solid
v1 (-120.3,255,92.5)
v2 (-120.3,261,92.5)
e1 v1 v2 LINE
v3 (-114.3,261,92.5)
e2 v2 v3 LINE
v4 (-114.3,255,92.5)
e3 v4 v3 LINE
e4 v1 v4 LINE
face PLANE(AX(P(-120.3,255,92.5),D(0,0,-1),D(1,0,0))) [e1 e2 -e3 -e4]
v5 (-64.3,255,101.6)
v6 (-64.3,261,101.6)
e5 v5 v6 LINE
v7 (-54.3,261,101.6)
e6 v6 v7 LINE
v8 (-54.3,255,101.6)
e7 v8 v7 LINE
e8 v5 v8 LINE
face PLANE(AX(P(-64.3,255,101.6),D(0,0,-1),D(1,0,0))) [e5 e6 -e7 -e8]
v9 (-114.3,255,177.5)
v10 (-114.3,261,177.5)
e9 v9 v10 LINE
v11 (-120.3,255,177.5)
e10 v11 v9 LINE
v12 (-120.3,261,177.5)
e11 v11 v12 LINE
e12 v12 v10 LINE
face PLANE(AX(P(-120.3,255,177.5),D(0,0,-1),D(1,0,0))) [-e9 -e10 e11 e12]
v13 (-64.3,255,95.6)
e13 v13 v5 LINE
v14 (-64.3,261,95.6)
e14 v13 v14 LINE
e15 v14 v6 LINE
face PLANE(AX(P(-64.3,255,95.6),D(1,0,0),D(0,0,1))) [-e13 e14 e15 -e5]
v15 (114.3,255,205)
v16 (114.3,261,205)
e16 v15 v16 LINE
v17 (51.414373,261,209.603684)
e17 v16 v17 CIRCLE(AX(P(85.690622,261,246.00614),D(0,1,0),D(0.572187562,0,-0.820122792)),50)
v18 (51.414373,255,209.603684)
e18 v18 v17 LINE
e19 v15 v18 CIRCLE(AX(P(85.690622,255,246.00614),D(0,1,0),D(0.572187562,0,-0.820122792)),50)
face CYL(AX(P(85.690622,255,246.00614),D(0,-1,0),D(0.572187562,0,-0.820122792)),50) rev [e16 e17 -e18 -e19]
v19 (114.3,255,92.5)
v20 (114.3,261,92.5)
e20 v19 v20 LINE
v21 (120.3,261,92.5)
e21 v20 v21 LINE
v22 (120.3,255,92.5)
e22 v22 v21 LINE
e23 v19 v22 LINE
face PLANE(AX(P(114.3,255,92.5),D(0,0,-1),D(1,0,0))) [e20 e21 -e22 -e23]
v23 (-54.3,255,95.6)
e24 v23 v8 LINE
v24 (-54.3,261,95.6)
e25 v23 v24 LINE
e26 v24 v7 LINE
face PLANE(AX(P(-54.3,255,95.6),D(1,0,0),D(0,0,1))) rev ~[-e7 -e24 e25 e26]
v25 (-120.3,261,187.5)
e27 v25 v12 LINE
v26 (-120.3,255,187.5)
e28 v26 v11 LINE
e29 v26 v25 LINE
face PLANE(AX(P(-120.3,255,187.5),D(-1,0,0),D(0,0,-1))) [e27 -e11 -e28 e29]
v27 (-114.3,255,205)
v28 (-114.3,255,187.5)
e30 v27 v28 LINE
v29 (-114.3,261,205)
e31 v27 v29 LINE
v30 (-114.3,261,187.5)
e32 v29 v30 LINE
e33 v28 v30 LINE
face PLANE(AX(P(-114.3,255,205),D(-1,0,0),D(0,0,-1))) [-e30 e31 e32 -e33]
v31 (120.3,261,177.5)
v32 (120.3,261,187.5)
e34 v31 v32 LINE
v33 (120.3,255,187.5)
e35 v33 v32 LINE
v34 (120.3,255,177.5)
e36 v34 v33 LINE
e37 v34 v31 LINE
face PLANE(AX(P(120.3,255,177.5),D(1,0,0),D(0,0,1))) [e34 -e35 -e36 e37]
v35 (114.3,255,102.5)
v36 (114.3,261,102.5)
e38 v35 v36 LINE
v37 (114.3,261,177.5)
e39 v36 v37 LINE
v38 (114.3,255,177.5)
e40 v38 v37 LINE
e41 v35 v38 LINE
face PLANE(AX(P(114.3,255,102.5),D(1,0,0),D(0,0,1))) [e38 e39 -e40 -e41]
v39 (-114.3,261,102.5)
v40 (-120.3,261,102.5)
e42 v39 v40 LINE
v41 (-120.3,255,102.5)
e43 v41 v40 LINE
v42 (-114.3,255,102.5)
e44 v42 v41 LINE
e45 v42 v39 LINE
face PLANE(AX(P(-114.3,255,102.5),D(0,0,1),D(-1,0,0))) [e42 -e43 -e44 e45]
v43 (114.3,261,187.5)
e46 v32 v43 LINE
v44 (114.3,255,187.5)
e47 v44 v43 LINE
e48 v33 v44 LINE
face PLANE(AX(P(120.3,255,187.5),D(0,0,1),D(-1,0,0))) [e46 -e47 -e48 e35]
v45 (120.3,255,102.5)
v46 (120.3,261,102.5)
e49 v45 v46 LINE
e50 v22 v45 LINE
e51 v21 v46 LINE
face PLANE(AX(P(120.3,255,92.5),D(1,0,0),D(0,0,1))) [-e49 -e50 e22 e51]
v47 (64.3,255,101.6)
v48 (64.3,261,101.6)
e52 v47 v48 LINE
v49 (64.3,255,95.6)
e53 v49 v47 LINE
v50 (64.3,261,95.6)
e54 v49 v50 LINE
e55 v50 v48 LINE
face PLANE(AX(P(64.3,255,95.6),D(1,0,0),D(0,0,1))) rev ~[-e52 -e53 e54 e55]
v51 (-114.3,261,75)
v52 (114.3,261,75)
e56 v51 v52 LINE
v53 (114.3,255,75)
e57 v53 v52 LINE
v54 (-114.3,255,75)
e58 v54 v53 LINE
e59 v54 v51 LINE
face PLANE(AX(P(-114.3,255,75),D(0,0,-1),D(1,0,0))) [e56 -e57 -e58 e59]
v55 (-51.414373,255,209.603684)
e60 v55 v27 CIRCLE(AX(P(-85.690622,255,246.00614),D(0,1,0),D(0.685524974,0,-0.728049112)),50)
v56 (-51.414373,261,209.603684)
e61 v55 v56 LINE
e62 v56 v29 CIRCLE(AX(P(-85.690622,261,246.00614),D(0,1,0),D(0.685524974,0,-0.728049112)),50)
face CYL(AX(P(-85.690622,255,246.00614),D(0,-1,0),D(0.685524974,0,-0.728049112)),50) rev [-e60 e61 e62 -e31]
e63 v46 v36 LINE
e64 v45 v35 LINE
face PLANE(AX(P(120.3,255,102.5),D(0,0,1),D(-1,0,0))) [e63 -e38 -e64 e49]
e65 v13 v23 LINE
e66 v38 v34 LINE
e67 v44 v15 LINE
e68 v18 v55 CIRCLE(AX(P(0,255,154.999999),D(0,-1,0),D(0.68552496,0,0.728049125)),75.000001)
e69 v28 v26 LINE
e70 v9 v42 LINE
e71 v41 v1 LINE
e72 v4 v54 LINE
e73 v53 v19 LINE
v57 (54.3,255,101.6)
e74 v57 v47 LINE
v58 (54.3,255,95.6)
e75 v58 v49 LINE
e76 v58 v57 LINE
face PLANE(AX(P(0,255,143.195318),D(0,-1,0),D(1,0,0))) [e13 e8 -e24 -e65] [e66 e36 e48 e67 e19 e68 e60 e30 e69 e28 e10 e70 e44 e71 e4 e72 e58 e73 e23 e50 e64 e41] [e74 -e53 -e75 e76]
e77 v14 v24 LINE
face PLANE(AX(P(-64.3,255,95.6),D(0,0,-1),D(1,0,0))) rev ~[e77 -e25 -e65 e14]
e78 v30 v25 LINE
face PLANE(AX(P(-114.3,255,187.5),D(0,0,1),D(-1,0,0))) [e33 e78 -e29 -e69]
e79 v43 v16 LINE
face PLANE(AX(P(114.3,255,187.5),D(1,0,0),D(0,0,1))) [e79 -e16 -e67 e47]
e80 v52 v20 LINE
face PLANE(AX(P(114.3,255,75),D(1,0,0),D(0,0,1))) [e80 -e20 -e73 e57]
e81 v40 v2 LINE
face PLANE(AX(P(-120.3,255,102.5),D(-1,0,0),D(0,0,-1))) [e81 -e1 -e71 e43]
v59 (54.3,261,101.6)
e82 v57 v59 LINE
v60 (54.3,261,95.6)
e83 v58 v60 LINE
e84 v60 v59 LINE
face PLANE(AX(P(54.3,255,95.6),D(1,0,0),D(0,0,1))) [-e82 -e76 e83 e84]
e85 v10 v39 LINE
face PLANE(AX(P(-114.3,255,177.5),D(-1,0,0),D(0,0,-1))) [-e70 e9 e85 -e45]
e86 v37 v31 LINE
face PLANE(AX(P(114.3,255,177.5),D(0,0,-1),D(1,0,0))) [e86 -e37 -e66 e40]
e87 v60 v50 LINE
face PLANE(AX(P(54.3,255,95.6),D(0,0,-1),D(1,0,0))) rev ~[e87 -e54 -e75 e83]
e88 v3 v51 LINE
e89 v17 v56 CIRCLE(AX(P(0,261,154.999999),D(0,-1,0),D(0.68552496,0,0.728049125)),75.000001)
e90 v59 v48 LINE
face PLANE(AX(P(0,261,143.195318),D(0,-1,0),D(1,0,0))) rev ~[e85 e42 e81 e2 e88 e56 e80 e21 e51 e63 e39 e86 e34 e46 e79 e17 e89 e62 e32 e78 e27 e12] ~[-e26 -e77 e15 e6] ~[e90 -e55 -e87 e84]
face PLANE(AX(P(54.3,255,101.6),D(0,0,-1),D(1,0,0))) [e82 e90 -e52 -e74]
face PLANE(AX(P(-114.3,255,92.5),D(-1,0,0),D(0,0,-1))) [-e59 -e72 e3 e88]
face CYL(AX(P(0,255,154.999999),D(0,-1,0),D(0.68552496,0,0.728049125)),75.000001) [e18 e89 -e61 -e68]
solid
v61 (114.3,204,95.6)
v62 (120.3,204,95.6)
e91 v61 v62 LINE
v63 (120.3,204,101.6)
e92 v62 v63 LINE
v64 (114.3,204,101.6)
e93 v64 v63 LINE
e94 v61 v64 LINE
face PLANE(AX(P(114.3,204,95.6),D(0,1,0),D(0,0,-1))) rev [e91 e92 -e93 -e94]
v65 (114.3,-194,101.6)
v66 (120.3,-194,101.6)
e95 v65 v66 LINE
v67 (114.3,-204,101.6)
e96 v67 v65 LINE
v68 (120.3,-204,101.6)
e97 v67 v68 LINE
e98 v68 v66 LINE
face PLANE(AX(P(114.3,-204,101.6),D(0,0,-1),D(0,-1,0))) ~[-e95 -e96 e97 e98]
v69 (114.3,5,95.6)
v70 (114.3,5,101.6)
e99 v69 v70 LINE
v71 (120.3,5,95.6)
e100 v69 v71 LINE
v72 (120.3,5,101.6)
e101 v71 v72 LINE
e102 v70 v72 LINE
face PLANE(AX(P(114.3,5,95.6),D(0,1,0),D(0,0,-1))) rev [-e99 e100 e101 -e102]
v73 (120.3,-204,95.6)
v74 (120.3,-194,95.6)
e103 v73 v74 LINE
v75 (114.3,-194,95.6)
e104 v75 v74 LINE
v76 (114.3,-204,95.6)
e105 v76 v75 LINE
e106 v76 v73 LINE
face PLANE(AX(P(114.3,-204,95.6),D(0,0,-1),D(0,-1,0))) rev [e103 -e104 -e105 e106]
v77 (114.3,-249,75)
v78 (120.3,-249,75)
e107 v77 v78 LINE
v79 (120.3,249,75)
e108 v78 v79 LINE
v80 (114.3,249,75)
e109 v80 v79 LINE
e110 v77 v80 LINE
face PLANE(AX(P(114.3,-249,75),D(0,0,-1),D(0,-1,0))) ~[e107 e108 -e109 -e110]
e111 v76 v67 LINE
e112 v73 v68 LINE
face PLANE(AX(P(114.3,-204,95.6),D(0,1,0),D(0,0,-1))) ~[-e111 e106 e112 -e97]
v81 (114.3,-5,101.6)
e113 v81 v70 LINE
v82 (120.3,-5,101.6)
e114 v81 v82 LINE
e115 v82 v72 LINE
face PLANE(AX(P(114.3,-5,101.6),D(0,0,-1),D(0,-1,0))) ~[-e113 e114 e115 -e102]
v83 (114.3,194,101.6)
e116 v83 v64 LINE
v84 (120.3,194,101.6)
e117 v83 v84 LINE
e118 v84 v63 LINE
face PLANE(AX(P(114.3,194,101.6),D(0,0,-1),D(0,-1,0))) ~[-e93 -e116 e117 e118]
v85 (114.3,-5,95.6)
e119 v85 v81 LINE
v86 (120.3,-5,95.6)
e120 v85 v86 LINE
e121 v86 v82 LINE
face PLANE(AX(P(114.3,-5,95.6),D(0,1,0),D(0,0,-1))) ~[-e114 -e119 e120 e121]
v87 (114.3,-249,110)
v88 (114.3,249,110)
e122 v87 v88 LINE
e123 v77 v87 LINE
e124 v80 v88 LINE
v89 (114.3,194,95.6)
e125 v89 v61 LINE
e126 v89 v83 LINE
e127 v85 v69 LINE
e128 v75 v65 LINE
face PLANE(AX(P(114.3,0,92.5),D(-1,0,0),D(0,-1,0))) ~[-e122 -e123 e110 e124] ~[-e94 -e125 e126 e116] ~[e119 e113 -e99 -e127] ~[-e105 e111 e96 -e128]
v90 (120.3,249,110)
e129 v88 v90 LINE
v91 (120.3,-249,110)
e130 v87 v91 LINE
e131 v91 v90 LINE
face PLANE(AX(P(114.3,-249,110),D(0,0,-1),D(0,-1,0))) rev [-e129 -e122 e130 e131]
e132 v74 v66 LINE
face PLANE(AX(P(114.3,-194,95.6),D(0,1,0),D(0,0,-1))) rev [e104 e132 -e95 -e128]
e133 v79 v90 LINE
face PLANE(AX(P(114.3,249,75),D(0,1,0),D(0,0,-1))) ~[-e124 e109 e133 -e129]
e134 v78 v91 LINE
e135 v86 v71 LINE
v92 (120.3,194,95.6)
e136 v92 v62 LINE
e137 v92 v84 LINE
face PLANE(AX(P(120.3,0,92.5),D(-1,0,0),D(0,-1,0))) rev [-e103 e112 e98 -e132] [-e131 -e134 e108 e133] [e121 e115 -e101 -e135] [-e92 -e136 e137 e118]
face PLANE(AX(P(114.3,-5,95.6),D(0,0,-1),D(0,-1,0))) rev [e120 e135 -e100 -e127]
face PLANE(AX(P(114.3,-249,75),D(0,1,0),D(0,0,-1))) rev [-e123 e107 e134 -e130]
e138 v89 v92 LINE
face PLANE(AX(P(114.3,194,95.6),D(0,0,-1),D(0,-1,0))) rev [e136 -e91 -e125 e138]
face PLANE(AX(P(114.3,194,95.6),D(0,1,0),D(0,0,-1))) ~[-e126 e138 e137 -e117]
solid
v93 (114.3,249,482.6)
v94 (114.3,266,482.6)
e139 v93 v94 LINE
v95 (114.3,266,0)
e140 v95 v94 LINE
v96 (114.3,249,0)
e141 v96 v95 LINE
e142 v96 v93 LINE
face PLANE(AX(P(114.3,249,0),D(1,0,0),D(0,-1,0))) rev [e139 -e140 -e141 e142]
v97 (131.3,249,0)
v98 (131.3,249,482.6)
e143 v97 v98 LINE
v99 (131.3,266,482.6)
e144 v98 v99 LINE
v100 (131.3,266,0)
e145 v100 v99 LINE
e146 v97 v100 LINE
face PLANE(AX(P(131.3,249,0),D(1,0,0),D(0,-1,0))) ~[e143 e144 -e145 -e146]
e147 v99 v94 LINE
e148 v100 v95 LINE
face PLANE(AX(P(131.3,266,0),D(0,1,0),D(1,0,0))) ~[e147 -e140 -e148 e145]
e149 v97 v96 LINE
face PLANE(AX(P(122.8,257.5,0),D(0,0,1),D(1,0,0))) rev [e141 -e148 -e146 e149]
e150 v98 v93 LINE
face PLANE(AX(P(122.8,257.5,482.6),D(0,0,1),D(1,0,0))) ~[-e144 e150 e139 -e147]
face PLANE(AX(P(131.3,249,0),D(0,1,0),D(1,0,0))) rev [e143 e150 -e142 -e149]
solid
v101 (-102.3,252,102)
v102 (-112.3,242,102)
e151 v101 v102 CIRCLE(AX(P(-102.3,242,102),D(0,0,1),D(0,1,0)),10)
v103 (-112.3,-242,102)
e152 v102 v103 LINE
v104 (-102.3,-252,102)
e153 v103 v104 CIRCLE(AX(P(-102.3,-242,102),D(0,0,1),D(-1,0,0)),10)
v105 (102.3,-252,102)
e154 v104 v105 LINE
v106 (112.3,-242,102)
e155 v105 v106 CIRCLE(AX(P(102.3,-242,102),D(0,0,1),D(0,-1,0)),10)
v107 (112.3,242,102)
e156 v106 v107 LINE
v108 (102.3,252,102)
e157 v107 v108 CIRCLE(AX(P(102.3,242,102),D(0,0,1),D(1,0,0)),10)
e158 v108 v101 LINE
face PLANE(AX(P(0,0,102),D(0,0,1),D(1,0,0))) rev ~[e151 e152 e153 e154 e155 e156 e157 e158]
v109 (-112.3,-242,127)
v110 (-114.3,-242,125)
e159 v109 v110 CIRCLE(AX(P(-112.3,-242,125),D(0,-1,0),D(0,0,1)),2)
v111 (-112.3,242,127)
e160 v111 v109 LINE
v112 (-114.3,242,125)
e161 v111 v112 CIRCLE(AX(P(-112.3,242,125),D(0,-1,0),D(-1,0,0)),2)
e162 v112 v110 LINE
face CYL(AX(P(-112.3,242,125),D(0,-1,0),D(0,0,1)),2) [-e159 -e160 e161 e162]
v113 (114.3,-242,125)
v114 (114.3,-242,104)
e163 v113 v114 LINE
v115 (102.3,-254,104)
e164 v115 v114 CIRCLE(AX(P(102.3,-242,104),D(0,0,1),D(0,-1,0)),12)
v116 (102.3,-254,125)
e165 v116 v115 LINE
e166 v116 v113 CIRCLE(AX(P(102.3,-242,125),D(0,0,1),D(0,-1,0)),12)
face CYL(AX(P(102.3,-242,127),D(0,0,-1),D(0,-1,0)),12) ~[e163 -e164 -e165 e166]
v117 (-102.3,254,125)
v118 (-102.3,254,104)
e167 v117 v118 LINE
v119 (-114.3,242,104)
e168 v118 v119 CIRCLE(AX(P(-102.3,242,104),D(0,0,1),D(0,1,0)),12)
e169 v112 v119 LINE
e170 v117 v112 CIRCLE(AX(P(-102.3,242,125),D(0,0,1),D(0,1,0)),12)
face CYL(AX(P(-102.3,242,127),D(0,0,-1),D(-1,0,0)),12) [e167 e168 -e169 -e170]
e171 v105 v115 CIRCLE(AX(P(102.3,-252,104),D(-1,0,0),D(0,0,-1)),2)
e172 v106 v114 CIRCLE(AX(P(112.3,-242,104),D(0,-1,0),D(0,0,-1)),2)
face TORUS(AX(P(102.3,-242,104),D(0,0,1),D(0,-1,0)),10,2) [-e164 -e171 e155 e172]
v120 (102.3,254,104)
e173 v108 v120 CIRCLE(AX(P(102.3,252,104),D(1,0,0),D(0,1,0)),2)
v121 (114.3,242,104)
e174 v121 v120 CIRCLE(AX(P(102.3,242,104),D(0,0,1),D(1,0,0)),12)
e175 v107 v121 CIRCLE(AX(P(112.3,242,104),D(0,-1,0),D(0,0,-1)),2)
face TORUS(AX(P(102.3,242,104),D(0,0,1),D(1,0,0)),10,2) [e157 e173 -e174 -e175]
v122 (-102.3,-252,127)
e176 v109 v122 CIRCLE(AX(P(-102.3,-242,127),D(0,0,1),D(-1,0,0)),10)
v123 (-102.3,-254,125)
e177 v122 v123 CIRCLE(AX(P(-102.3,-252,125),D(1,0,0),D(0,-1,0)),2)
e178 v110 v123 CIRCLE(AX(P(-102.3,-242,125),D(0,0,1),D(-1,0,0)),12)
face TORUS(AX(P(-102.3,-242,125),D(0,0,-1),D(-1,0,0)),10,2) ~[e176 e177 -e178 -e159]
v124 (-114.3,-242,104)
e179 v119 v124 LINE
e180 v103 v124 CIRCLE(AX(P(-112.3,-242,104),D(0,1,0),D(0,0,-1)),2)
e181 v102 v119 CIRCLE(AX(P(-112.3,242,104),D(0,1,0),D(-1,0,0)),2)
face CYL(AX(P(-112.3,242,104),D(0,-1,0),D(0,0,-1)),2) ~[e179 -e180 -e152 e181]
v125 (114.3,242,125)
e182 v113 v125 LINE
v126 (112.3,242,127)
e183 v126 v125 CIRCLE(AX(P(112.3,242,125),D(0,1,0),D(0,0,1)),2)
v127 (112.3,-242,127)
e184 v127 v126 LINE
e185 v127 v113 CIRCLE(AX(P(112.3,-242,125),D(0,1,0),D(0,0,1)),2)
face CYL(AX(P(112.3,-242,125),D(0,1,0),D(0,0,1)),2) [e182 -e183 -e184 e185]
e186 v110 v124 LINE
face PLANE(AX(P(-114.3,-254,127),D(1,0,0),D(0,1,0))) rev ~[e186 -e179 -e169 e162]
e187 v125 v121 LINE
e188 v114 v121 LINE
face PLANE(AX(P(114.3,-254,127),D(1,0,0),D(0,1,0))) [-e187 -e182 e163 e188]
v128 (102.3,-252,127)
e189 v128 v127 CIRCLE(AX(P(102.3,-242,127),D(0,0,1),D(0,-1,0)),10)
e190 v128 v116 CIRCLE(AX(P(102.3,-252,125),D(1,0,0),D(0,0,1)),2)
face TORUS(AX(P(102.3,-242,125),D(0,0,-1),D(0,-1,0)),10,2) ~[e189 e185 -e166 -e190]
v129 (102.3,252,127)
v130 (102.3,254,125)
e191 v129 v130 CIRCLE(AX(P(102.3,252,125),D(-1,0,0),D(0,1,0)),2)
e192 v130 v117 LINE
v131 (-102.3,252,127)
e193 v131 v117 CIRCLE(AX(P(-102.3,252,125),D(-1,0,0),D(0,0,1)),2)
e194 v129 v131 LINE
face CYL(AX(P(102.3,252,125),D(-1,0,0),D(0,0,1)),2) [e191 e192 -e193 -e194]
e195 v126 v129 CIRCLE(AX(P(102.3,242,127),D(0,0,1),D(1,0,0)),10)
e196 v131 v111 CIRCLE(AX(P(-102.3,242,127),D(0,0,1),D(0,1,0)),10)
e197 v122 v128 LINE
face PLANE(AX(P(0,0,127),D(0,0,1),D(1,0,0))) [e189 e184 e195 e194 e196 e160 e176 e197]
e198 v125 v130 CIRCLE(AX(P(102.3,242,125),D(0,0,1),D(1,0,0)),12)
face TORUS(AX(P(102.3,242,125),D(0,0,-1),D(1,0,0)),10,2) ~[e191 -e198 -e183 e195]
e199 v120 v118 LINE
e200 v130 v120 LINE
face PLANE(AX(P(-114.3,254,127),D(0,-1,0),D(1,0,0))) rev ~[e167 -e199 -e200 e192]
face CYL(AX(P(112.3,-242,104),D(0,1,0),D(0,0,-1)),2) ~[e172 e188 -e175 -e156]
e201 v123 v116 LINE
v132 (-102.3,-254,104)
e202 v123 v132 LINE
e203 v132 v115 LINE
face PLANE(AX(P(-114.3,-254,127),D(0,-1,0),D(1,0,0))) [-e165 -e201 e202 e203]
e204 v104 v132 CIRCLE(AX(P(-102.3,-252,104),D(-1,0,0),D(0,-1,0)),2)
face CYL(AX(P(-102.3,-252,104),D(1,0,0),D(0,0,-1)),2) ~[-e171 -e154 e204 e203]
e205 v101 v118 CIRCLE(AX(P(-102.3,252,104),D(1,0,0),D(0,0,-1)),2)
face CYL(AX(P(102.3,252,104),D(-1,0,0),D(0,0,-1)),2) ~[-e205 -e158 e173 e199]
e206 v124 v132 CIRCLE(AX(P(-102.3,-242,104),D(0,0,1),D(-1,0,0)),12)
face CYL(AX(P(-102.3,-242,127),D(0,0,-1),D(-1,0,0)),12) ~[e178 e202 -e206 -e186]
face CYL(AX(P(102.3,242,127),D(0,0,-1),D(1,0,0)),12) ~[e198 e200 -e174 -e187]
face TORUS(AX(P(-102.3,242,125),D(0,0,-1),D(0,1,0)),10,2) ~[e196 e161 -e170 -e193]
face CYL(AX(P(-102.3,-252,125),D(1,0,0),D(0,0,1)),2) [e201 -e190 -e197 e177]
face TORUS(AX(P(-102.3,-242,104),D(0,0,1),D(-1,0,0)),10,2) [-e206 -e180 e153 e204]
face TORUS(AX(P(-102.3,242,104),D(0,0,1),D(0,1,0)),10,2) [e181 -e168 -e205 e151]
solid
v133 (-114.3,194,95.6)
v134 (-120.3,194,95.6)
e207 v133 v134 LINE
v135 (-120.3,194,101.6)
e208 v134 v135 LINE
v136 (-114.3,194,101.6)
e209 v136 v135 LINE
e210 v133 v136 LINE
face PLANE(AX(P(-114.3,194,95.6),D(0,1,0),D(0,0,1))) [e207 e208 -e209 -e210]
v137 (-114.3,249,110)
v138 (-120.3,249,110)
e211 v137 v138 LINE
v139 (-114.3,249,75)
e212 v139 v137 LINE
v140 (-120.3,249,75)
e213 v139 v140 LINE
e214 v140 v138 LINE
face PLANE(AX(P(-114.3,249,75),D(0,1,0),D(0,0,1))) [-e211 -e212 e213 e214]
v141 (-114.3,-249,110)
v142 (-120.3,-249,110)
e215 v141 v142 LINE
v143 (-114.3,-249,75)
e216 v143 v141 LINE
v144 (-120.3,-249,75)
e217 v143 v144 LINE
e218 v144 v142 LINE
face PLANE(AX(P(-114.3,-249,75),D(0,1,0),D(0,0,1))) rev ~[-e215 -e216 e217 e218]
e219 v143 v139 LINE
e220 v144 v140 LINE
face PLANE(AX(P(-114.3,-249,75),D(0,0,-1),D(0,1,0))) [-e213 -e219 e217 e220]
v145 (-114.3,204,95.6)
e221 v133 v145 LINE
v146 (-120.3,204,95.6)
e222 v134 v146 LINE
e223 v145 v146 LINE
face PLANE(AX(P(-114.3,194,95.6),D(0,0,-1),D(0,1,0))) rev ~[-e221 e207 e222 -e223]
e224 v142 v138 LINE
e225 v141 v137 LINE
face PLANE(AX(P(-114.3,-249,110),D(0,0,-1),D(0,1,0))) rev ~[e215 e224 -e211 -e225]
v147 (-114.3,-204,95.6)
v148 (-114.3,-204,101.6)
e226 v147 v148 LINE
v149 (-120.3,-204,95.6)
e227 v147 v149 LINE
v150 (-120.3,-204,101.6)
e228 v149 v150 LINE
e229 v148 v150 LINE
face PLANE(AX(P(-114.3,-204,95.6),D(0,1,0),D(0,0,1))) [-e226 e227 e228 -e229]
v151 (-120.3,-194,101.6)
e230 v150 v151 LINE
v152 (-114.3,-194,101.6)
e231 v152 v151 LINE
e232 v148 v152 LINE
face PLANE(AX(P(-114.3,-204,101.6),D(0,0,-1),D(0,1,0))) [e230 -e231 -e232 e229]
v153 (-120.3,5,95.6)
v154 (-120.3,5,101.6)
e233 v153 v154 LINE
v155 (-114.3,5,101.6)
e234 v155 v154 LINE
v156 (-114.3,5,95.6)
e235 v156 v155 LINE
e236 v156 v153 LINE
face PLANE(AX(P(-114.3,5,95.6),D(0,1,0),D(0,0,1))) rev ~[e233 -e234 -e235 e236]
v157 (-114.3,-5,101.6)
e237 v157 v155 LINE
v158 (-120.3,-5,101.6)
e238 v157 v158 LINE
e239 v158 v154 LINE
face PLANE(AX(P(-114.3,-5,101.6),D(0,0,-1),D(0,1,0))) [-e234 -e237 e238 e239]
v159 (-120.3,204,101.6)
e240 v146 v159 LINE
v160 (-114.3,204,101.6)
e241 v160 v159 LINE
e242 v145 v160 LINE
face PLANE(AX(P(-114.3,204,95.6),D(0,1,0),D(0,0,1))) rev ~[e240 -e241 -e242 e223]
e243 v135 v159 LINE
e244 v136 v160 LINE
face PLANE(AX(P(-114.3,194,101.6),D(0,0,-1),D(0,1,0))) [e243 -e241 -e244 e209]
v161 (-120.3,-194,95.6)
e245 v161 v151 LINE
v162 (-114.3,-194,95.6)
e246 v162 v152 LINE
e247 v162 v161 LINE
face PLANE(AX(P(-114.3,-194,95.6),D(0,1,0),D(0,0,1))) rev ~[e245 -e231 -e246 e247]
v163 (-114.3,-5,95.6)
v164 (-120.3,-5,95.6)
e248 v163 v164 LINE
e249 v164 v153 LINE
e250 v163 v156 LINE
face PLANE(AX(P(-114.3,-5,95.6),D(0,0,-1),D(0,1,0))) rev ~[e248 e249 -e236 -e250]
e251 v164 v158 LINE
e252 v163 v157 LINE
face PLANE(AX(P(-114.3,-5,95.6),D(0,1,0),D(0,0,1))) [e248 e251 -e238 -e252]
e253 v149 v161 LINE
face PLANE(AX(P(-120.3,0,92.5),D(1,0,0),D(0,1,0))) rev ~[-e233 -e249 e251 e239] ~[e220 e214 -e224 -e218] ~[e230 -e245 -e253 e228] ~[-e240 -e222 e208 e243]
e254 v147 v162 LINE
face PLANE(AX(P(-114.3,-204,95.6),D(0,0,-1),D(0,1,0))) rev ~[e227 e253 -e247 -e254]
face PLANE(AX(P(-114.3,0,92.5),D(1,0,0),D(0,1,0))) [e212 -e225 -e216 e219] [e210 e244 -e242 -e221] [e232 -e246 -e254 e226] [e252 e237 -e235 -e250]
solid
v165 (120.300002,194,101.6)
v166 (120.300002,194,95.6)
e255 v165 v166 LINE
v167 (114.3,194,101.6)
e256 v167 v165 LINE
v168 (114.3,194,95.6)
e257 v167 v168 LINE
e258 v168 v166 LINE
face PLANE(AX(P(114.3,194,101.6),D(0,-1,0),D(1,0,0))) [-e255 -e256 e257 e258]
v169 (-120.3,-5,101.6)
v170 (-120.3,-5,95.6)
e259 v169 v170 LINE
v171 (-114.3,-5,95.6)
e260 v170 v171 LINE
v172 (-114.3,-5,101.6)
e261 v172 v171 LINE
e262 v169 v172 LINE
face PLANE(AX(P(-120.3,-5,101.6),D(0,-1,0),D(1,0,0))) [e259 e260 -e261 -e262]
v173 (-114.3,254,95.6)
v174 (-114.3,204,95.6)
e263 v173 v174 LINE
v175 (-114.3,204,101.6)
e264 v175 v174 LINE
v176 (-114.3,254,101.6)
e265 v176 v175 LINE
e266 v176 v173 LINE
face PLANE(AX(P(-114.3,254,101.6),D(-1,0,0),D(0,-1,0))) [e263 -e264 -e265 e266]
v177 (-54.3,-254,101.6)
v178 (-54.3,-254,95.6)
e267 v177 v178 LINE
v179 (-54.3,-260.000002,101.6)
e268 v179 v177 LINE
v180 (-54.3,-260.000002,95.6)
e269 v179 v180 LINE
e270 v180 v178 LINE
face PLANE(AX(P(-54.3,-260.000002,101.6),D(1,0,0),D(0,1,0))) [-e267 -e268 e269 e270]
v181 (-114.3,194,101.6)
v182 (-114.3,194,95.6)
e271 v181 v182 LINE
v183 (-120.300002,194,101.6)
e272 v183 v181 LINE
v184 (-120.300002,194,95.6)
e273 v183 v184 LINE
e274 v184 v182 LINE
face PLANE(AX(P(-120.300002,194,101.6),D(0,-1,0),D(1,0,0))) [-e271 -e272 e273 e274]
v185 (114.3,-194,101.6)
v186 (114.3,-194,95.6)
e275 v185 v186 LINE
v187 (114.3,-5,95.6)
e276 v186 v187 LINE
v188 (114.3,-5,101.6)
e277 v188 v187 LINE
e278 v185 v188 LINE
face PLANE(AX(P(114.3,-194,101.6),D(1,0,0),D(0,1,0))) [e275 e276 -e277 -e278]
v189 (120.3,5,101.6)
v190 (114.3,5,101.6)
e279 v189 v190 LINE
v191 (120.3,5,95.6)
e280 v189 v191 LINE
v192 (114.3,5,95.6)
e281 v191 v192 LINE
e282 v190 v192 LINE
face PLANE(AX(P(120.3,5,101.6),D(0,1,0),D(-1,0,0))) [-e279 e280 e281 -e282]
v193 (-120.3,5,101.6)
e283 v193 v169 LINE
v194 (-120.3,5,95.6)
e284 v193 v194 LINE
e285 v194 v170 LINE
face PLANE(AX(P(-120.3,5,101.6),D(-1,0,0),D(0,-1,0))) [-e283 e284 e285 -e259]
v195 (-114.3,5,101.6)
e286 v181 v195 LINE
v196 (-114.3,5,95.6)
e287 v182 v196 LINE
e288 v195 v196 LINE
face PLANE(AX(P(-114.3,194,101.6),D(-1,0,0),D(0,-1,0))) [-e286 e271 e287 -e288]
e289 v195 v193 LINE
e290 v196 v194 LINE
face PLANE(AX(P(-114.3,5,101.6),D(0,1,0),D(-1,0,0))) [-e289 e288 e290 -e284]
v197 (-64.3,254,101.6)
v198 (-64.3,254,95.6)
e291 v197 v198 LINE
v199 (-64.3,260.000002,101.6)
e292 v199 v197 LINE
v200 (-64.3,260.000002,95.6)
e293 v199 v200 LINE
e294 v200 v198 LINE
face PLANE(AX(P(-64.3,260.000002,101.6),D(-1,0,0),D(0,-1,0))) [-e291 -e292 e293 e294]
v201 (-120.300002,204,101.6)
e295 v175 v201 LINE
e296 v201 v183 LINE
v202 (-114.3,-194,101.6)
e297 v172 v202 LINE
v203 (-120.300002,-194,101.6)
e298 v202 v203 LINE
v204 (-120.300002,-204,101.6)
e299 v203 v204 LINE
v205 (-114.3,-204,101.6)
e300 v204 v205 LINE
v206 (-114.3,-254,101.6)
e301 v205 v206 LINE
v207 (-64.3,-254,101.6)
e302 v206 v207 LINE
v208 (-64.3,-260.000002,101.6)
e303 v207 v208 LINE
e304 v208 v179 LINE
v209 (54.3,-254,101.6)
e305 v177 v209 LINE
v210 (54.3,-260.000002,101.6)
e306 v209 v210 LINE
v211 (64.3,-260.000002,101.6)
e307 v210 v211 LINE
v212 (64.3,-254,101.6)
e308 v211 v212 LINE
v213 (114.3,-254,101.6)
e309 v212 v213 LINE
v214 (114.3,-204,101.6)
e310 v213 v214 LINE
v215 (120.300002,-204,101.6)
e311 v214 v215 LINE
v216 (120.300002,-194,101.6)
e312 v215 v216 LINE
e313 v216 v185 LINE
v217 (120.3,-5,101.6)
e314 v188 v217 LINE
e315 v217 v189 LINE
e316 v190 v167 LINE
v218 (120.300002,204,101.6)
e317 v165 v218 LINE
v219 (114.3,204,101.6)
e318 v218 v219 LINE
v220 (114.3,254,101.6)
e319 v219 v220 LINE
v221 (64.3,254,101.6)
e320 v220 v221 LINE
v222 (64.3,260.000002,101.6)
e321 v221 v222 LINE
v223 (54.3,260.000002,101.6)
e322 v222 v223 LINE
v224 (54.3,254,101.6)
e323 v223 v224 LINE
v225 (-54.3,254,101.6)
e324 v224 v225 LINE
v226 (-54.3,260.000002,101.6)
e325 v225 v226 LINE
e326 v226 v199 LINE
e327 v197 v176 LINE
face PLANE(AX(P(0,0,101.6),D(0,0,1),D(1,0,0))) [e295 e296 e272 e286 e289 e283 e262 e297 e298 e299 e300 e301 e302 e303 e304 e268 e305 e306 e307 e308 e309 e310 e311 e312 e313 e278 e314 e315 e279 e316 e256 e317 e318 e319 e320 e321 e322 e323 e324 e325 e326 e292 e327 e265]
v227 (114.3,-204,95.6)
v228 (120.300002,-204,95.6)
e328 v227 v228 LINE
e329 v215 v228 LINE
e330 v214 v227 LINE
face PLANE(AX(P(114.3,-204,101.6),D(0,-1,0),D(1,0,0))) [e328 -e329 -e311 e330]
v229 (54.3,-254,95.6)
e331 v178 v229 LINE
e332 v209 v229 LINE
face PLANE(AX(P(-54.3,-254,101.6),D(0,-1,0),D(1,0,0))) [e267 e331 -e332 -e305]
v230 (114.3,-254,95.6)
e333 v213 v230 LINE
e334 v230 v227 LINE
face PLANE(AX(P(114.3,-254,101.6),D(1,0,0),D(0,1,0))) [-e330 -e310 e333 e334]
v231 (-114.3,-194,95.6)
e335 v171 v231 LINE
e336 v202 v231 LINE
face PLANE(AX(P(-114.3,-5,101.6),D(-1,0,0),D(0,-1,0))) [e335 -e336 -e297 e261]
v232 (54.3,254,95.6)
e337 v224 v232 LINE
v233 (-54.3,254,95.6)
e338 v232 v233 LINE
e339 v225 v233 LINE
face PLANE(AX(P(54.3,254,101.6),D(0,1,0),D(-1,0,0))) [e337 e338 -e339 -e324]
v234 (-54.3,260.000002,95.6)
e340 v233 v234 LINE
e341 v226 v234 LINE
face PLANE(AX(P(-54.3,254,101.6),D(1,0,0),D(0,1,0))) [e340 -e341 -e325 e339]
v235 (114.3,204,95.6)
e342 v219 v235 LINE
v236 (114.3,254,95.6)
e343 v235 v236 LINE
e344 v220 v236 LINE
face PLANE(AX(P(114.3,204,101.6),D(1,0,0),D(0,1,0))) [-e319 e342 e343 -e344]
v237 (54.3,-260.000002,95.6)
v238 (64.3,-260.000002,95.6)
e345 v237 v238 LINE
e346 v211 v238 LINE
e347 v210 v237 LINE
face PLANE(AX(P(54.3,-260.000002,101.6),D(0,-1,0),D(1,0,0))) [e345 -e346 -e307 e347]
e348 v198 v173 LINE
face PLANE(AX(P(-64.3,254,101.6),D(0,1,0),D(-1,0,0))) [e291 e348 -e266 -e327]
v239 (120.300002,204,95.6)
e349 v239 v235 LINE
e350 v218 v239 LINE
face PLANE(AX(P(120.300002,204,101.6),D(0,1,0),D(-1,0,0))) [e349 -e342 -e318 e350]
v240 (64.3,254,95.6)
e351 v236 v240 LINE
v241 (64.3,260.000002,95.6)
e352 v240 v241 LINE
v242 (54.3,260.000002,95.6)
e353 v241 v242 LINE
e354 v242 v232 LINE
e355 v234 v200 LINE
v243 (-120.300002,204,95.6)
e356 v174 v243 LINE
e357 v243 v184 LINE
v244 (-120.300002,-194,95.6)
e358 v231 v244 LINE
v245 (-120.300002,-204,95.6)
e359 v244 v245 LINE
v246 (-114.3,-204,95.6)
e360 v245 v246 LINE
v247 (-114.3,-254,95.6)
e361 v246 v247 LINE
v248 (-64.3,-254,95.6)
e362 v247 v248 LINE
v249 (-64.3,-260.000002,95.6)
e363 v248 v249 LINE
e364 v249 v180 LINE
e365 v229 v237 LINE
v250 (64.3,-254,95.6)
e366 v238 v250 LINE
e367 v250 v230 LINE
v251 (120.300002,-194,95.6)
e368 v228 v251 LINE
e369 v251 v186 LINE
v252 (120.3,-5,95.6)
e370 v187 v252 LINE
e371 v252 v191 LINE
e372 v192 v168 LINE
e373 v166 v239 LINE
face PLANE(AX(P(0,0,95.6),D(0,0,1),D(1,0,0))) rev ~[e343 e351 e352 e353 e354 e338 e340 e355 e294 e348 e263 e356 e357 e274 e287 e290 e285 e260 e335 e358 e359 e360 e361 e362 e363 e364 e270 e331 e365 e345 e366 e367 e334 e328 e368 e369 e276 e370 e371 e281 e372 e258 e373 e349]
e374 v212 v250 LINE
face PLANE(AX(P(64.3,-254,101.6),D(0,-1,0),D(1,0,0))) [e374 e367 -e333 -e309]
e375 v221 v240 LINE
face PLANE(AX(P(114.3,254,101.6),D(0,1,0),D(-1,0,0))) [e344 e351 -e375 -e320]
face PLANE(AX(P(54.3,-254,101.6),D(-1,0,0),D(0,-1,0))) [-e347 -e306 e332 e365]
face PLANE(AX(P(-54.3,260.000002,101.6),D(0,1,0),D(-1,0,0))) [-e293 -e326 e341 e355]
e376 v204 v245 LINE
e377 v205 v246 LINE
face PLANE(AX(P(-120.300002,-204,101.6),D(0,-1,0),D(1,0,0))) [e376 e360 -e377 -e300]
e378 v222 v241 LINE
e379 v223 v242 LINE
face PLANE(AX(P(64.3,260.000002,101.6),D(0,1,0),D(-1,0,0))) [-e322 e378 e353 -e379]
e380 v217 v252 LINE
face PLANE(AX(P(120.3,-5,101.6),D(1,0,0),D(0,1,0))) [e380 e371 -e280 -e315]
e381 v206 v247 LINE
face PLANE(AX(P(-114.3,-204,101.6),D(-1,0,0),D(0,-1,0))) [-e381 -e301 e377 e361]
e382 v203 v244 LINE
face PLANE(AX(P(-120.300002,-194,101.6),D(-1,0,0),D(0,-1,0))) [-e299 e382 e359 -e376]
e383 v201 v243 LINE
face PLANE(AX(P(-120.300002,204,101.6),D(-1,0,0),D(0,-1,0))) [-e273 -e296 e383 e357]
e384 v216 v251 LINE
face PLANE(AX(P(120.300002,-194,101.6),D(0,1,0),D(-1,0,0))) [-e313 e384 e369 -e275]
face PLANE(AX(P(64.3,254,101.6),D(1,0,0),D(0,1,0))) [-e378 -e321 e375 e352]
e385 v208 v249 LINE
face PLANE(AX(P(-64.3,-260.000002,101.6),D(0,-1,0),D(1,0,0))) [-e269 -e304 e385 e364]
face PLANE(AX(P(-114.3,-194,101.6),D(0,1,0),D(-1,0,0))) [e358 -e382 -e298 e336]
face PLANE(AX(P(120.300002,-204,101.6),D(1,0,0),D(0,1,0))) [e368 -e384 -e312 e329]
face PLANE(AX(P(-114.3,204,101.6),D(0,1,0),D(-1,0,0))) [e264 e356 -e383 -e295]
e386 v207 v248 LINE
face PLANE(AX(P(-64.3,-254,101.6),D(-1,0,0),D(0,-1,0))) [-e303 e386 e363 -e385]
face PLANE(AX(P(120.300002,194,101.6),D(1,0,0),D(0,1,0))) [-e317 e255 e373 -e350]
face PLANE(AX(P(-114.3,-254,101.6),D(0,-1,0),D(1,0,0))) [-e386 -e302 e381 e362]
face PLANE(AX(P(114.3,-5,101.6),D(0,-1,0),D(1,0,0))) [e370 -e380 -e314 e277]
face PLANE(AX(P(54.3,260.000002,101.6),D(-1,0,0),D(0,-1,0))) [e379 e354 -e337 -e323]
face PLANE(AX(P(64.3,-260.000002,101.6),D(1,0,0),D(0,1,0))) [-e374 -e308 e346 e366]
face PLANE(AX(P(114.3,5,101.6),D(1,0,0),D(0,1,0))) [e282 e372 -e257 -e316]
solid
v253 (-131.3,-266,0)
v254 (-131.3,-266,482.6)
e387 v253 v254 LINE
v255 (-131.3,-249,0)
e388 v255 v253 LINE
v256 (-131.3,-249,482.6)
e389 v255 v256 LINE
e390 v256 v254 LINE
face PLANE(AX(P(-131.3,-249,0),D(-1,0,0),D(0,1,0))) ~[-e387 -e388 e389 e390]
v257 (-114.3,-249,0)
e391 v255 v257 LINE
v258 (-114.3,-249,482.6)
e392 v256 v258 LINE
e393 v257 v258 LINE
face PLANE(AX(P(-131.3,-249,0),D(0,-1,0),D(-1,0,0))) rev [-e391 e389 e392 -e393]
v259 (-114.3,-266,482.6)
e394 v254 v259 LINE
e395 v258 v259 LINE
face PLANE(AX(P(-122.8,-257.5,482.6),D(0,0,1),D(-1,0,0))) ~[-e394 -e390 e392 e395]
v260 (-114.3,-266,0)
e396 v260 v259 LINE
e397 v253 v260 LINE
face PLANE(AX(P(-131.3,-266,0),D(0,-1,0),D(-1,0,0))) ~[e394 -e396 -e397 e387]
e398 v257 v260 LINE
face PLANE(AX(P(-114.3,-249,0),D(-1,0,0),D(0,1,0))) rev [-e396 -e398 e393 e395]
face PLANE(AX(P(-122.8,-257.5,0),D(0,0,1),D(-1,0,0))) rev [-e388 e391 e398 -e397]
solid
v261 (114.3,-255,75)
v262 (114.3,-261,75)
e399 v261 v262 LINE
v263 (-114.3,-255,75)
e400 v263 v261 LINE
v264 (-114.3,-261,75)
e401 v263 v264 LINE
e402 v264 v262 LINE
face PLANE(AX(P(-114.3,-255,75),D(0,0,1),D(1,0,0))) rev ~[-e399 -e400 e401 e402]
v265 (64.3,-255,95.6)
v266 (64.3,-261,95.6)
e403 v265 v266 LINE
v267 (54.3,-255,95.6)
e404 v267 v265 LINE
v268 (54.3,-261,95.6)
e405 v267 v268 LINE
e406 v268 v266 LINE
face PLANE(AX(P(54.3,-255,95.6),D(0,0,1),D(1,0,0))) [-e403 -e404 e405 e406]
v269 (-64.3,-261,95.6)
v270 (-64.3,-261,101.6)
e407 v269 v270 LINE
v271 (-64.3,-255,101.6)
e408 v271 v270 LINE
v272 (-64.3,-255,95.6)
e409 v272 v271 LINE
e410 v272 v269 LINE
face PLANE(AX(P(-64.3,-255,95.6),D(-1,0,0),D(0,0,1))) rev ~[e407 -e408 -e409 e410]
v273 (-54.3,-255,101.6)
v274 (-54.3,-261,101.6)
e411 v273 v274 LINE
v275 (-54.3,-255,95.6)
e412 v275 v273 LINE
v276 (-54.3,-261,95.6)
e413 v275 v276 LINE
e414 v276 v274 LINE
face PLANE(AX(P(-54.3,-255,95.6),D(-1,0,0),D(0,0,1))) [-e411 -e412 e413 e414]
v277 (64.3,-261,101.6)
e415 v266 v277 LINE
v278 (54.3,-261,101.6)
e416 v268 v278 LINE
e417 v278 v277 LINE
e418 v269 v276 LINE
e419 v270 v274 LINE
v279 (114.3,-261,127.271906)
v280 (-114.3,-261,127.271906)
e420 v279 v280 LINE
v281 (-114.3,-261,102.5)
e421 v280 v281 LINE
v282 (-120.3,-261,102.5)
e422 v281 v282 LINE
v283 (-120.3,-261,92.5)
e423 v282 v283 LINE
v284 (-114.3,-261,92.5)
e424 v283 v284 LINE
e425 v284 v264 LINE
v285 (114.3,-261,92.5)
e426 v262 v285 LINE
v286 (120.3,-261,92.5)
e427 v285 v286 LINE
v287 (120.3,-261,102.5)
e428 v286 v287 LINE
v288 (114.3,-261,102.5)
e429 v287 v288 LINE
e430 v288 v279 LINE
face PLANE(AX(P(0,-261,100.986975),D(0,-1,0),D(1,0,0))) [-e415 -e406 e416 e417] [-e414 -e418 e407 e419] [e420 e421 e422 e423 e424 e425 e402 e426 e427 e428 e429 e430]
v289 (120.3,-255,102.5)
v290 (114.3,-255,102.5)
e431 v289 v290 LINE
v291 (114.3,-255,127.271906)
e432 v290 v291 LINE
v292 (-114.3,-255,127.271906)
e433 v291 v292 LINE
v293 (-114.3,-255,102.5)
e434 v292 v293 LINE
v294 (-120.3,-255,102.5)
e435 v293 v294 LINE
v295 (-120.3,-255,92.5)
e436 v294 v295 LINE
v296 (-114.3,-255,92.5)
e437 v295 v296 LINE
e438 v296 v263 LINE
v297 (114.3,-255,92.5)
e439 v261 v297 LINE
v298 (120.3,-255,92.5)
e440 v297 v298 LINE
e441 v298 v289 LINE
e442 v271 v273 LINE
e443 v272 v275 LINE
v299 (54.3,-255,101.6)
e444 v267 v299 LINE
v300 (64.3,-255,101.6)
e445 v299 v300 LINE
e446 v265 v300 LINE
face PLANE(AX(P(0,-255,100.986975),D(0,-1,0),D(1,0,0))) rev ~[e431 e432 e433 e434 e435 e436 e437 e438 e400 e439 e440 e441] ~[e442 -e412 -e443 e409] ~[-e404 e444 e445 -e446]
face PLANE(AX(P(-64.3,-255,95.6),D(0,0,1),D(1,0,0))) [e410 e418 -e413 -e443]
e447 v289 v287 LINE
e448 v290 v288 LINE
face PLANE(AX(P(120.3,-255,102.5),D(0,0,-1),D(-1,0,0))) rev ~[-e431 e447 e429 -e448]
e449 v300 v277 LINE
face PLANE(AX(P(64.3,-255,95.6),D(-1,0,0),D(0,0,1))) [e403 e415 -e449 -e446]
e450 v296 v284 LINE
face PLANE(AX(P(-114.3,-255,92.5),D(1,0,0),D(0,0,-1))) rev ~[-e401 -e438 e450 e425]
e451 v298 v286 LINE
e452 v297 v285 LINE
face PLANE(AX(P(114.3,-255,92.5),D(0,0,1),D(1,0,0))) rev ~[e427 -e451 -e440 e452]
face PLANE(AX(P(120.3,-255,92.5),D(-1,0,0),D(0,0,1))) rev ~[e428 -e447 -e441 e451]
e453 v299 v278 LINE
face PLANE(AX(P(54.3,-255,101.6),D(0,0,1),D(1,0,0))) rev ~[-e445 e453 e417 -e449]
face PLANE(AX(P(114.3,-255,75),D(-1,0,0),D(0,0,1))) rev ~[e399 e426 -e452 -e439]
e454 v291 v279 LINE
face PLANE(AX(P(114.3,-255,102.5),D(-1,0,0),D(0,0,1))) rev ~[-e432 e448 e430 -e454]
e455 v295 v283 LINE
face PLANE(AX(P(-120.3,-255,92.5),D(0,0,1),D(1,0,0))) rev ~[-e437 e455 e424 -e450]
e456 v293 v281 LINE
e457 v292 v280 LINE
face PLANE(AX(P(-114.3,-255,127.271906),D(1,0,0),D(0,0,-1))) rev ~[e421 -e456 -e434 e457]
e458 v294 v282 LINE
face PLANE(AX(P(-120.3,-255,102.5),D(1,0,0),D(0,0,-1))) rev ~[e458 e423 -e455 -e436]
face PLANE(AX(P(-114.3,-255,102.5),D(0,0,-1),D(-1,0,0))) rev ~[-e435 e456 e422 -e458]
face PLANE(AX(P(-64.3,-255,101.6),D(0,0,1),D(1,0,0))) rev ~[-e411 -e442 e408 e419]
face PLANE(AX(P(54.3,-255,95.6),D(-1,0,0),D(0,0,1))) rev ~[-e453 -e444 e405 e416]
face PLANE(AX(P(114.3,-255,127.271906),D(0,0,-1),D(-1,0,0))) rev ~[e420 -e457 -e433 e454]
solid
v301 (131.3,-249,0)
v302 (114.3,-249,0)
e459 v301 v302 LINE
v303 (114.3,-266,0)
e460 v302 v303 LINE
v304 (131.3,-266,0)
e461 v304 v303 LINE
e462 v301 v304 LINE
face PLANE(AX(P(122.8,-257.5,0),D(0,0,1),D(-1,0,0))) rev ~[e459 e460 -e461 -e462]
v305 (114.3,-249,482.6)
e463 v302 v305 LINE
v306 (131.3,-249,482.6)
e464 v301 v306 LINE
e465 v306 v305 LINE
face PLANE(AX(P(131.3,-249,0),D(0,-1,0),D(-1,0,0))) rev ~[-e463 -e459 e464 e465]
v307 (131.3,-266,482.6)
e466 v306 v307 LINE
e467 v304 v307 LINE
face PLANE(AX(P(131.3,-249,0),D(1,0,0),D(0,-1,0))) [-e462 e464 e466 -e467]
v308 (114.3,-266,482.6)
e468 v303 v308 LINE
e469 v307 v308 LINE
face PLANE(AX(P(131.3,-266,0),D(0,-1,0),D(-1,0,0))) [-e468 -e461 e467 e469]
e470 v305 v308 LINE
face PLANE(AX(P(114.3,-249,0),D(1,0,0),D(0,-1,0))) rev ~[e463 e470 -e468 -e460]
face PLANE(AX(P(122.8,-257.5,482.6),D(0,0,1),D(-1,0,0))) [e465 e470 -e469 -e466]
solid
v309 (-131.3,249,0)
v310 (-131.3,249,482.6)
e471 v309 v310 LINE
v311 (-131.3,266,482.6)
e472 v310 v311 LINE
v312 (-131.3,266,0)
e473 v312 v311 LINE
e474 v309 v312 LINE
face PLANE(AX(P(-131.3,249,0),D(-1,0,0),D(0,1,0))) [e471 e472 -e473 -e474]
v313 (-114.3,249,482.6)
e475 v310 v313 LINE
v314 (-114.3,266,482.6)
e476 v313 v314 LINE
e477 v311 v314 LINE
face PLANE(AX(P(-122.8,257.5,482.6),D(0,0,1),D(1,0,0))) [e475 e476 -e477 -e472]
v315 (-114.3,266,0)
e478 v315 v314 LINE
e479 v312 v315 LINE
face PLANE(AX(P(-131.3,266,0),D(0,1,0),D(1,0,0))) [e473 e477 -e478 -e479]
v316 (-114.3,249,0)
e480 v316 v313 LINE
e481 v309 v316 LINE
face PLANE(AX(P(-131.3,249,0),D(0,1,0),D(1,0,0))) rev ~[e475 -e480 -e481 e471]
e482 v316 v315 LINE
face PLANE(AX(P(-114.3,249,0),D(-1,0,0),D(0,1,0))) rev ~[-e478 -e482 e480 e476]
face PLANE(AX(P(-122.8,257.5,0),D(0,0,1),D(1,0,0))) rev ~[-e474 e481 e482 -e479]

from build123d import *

# Parameters (mm, degrees)
F4_DEPTH  = 6
F2_W      = 228.6
F2_H      = 508
F5_DEPTH  = 25
F6_R      = 12
F7_R      = 2
F9_W      = 10
F9_H      = 6
F10_DEPTH = 6
F12_W     = 10
F12_H     = 6
F13_DEPTH = 6
F15_W     = 498
F15_H     = 35
F15_W_2   = 10
F15_H_2   = 6
F16_DEPTH = 6
F18_W     = 17
F18_H     = 17
F19_DEPTH = 482.6


with BuildPart() as f4:
    # F3 (on offset) → F4 (new body)
    with BuildSketch(Plane.XY.offset(101.6)):
        Polygon((-64.3, 254), (-114.3, 254), (-114.3, 204), (-120.300002, 204), (-120.300002, 194), (-114.3, 194), (-114.3, 5), (-120.3, 5), (-120.3, -5), (-114.3, -5), (-114.3, -194), (-120.300002, -194), (-120.300002, -204), (-114.3, -204), (-114.3, -254), (-64.3, -254), (-64.3, -260.000002), (-54.3, -260.000002), (-54.3, -254), (54.3, -254), (54.3, -260.000002), (64.3, -260.000002), (64.3, -254), (114.3, -254), (114.3, -204), (120.300002, -204), (120.300002, -194), (114.3, -194), (114.3, -5), (120.3, -5), (120.3, 5), (114.3, 5), (114.3, 194), (120.300002, 194), (120.300002, 204), (114.3, 204), (114.3, 254), (64.3, 254), (64.3, 260.000002), (54.3, 260.000002), (54.3, 254), (-54.3, 254), (-54.3, 260.000002), (-64.3, 260.000002), align=None)
    extrude(amount=-F4_DEPTH)


with BuildPart() as f5:
    # F2 (on offset) → F5 (new body)
    with BuildSketch(Plane.XY.offset(127)):
        Rectangle(F2_W, F2_H)
    extrude(amount=-F5_DEPTH)

    # F6
    f6_edges = [f5.edges().sort_by_distance(p)[0] for p in [
        (-114.3, 254, 114.5),
        (-114.3, -254, 114.5),
        (114.3, -254, 114.5),
        (114.3, 254, 114.5),
    ]]
    fillet(f6_edges, radius=F6_R)

    # F7
    f7_edges = [f5.edges().sort_by_distance(p)[0] for p in [
        (114.3, 0, 127),
        (114.3, 0, 102),
    ]]
    fillet(f7_edges, radius=F7_R)


with BuildPart() as f10:
    # F9 (on offset) → F10 (new body)
    with BuildSketch(Plane.XZ.offset(-255)):
        with BuildLine():
            Line((-114.3, 75), (114.3, 75))
            Line((114.3, 75), (114.3, 92.5))
            Line((114.3, 92.5), (120.3, 92.5))
            Line((120.3, 92.5), (120.3, 102.5))
            Line((120.3, 102.5), (114.3, 102.5))
            Line((114.3, 102.5), (114.3, 177.5))
            Line((114.3, 177.5), (120.3, 177.5))
            Line((120.3, 177.5), (120.3, 187.5))
            Line((120.3, 187.5), (114.3, 187.5))
            Line((114.3, 187.5), (114.3, 205))
            ThreePointArc((114.3, 205), (82.040028, 196.139586), (51.414373, 209.603684))
            ThreePointArc((51.414373, 209.603684), (0, 230), (-51.414373, 209.603684))
            ThreePointArc((-51.414373, 209.603684), (-82.040028, 196.139586), (-114.3, 205))
            Line((-114.3, 205), (-114.3, 187.5))
            Line((-114.3, 187.5), (-120.3, 187.5))
            Line((-120.3, 187.5), (-120.3, 177.5))
            Line((-120.3, 177.5), (-114.3, 177.5))
            Line((-114.3, 177.5), (-114.3, 102.5))
            Line((-114.3, 102.5), (-120.3, 102.5))
            Line((-120.3, 102.5), (-120.3, 92.5))
            Line((-120.3, 92.5), (-114.3, 92.5))
            Line((-114.3, 92.5), (-114.3, 75))
        make_face()
        with Locations((-59.3, 98.6)):
            Rectangle(F9_W, F9_H, mode=Mode.SUBTRACT)
        with Locations((59.3, 98.6)):
            Rectangle(F9_W, F9_H, mode=Mode.SUBTRACT)
    extrude(amount=-F10_DEPTH)


with BuildPart() as f13:
    # F12 (on offset) → F13 (new body)
    with BuildSketch(Plane.XZ.offset(255)):
        Polygon((-120.3, 92.5), (-114.3, 92.5), (-114.3, 75), (114.3, 75), (114.3, 92.5), (120.3, 92.5), (120.3, 102.5), (114.3, 102.5), (114.3, 127.271906), (-114.3, 127.271906), (-114.3, 102.5), (-120.3, 102.5), align=None)
        with Locations((-59.3, 98.6)):
            Rectangle(F12_W, F12_H, mode=Mode.SUBTRACT)
        with Locations((59.3, 98.6)):
            Rectangle(F12_W, F12_H, mode=Mode.SUBTRACT)
    extrude(amount=F13_DEPTH)


with BuildPart() as f16:
    # F15 (on offset) → F16 (new body)
    with BuildSketch(Plane.YZ.offset(-114.3)):
        with Locations((0, 92.5)):
            Rectangle(F15_W, F15_H)
        with Locations((-199, 98.6)):
            Rectangle(F15_W_2, F15_H_2, mode=Mode.SUBTRACT)
        with Locations((0, 98.6)):
            Rectangle(F15_W_2, F15_H_2, mode=Mode.SUBTRACT)
        with Locations((199, 98.6)):
            Rectangle(F15_W_2, F15_H_2, mode=Mode.SUBTRACT)
    extrude(amount=-F16_DEPTH)


with BuildPart() as f17_1:
    # F17: instance of F16
    add(f16.part.mirror(Plane.YZ))


with BuildPart() as f19:
    # F18 (on Top) → F19 (new body)
    with BuildSketch(Plane.XY):
        with Locations((-122.8, 257.5)):
            Rectangle(F18_W, F18_H)
    extrude(amount=F19_DEPTH)


with BuildPart() as f20_1:
    # F20: instance of F19
    add(f19.part.mirror(Plane.YZ))


with BuildPart() as f21_1:
    # F21: instance of F19
    add(f19.part.mirror(Plane.XZ))


with BuildPart() as f21_2:
    # F21: instance of F20_1
    add(f20_1.part.mirror(Plane.XZ))


solid = Compound([f4.part, f5.part, f10.part, f13.part, f16.part, f17_1.part, f19.part, f20_1.part, f21_1.part, f21_2.part])
